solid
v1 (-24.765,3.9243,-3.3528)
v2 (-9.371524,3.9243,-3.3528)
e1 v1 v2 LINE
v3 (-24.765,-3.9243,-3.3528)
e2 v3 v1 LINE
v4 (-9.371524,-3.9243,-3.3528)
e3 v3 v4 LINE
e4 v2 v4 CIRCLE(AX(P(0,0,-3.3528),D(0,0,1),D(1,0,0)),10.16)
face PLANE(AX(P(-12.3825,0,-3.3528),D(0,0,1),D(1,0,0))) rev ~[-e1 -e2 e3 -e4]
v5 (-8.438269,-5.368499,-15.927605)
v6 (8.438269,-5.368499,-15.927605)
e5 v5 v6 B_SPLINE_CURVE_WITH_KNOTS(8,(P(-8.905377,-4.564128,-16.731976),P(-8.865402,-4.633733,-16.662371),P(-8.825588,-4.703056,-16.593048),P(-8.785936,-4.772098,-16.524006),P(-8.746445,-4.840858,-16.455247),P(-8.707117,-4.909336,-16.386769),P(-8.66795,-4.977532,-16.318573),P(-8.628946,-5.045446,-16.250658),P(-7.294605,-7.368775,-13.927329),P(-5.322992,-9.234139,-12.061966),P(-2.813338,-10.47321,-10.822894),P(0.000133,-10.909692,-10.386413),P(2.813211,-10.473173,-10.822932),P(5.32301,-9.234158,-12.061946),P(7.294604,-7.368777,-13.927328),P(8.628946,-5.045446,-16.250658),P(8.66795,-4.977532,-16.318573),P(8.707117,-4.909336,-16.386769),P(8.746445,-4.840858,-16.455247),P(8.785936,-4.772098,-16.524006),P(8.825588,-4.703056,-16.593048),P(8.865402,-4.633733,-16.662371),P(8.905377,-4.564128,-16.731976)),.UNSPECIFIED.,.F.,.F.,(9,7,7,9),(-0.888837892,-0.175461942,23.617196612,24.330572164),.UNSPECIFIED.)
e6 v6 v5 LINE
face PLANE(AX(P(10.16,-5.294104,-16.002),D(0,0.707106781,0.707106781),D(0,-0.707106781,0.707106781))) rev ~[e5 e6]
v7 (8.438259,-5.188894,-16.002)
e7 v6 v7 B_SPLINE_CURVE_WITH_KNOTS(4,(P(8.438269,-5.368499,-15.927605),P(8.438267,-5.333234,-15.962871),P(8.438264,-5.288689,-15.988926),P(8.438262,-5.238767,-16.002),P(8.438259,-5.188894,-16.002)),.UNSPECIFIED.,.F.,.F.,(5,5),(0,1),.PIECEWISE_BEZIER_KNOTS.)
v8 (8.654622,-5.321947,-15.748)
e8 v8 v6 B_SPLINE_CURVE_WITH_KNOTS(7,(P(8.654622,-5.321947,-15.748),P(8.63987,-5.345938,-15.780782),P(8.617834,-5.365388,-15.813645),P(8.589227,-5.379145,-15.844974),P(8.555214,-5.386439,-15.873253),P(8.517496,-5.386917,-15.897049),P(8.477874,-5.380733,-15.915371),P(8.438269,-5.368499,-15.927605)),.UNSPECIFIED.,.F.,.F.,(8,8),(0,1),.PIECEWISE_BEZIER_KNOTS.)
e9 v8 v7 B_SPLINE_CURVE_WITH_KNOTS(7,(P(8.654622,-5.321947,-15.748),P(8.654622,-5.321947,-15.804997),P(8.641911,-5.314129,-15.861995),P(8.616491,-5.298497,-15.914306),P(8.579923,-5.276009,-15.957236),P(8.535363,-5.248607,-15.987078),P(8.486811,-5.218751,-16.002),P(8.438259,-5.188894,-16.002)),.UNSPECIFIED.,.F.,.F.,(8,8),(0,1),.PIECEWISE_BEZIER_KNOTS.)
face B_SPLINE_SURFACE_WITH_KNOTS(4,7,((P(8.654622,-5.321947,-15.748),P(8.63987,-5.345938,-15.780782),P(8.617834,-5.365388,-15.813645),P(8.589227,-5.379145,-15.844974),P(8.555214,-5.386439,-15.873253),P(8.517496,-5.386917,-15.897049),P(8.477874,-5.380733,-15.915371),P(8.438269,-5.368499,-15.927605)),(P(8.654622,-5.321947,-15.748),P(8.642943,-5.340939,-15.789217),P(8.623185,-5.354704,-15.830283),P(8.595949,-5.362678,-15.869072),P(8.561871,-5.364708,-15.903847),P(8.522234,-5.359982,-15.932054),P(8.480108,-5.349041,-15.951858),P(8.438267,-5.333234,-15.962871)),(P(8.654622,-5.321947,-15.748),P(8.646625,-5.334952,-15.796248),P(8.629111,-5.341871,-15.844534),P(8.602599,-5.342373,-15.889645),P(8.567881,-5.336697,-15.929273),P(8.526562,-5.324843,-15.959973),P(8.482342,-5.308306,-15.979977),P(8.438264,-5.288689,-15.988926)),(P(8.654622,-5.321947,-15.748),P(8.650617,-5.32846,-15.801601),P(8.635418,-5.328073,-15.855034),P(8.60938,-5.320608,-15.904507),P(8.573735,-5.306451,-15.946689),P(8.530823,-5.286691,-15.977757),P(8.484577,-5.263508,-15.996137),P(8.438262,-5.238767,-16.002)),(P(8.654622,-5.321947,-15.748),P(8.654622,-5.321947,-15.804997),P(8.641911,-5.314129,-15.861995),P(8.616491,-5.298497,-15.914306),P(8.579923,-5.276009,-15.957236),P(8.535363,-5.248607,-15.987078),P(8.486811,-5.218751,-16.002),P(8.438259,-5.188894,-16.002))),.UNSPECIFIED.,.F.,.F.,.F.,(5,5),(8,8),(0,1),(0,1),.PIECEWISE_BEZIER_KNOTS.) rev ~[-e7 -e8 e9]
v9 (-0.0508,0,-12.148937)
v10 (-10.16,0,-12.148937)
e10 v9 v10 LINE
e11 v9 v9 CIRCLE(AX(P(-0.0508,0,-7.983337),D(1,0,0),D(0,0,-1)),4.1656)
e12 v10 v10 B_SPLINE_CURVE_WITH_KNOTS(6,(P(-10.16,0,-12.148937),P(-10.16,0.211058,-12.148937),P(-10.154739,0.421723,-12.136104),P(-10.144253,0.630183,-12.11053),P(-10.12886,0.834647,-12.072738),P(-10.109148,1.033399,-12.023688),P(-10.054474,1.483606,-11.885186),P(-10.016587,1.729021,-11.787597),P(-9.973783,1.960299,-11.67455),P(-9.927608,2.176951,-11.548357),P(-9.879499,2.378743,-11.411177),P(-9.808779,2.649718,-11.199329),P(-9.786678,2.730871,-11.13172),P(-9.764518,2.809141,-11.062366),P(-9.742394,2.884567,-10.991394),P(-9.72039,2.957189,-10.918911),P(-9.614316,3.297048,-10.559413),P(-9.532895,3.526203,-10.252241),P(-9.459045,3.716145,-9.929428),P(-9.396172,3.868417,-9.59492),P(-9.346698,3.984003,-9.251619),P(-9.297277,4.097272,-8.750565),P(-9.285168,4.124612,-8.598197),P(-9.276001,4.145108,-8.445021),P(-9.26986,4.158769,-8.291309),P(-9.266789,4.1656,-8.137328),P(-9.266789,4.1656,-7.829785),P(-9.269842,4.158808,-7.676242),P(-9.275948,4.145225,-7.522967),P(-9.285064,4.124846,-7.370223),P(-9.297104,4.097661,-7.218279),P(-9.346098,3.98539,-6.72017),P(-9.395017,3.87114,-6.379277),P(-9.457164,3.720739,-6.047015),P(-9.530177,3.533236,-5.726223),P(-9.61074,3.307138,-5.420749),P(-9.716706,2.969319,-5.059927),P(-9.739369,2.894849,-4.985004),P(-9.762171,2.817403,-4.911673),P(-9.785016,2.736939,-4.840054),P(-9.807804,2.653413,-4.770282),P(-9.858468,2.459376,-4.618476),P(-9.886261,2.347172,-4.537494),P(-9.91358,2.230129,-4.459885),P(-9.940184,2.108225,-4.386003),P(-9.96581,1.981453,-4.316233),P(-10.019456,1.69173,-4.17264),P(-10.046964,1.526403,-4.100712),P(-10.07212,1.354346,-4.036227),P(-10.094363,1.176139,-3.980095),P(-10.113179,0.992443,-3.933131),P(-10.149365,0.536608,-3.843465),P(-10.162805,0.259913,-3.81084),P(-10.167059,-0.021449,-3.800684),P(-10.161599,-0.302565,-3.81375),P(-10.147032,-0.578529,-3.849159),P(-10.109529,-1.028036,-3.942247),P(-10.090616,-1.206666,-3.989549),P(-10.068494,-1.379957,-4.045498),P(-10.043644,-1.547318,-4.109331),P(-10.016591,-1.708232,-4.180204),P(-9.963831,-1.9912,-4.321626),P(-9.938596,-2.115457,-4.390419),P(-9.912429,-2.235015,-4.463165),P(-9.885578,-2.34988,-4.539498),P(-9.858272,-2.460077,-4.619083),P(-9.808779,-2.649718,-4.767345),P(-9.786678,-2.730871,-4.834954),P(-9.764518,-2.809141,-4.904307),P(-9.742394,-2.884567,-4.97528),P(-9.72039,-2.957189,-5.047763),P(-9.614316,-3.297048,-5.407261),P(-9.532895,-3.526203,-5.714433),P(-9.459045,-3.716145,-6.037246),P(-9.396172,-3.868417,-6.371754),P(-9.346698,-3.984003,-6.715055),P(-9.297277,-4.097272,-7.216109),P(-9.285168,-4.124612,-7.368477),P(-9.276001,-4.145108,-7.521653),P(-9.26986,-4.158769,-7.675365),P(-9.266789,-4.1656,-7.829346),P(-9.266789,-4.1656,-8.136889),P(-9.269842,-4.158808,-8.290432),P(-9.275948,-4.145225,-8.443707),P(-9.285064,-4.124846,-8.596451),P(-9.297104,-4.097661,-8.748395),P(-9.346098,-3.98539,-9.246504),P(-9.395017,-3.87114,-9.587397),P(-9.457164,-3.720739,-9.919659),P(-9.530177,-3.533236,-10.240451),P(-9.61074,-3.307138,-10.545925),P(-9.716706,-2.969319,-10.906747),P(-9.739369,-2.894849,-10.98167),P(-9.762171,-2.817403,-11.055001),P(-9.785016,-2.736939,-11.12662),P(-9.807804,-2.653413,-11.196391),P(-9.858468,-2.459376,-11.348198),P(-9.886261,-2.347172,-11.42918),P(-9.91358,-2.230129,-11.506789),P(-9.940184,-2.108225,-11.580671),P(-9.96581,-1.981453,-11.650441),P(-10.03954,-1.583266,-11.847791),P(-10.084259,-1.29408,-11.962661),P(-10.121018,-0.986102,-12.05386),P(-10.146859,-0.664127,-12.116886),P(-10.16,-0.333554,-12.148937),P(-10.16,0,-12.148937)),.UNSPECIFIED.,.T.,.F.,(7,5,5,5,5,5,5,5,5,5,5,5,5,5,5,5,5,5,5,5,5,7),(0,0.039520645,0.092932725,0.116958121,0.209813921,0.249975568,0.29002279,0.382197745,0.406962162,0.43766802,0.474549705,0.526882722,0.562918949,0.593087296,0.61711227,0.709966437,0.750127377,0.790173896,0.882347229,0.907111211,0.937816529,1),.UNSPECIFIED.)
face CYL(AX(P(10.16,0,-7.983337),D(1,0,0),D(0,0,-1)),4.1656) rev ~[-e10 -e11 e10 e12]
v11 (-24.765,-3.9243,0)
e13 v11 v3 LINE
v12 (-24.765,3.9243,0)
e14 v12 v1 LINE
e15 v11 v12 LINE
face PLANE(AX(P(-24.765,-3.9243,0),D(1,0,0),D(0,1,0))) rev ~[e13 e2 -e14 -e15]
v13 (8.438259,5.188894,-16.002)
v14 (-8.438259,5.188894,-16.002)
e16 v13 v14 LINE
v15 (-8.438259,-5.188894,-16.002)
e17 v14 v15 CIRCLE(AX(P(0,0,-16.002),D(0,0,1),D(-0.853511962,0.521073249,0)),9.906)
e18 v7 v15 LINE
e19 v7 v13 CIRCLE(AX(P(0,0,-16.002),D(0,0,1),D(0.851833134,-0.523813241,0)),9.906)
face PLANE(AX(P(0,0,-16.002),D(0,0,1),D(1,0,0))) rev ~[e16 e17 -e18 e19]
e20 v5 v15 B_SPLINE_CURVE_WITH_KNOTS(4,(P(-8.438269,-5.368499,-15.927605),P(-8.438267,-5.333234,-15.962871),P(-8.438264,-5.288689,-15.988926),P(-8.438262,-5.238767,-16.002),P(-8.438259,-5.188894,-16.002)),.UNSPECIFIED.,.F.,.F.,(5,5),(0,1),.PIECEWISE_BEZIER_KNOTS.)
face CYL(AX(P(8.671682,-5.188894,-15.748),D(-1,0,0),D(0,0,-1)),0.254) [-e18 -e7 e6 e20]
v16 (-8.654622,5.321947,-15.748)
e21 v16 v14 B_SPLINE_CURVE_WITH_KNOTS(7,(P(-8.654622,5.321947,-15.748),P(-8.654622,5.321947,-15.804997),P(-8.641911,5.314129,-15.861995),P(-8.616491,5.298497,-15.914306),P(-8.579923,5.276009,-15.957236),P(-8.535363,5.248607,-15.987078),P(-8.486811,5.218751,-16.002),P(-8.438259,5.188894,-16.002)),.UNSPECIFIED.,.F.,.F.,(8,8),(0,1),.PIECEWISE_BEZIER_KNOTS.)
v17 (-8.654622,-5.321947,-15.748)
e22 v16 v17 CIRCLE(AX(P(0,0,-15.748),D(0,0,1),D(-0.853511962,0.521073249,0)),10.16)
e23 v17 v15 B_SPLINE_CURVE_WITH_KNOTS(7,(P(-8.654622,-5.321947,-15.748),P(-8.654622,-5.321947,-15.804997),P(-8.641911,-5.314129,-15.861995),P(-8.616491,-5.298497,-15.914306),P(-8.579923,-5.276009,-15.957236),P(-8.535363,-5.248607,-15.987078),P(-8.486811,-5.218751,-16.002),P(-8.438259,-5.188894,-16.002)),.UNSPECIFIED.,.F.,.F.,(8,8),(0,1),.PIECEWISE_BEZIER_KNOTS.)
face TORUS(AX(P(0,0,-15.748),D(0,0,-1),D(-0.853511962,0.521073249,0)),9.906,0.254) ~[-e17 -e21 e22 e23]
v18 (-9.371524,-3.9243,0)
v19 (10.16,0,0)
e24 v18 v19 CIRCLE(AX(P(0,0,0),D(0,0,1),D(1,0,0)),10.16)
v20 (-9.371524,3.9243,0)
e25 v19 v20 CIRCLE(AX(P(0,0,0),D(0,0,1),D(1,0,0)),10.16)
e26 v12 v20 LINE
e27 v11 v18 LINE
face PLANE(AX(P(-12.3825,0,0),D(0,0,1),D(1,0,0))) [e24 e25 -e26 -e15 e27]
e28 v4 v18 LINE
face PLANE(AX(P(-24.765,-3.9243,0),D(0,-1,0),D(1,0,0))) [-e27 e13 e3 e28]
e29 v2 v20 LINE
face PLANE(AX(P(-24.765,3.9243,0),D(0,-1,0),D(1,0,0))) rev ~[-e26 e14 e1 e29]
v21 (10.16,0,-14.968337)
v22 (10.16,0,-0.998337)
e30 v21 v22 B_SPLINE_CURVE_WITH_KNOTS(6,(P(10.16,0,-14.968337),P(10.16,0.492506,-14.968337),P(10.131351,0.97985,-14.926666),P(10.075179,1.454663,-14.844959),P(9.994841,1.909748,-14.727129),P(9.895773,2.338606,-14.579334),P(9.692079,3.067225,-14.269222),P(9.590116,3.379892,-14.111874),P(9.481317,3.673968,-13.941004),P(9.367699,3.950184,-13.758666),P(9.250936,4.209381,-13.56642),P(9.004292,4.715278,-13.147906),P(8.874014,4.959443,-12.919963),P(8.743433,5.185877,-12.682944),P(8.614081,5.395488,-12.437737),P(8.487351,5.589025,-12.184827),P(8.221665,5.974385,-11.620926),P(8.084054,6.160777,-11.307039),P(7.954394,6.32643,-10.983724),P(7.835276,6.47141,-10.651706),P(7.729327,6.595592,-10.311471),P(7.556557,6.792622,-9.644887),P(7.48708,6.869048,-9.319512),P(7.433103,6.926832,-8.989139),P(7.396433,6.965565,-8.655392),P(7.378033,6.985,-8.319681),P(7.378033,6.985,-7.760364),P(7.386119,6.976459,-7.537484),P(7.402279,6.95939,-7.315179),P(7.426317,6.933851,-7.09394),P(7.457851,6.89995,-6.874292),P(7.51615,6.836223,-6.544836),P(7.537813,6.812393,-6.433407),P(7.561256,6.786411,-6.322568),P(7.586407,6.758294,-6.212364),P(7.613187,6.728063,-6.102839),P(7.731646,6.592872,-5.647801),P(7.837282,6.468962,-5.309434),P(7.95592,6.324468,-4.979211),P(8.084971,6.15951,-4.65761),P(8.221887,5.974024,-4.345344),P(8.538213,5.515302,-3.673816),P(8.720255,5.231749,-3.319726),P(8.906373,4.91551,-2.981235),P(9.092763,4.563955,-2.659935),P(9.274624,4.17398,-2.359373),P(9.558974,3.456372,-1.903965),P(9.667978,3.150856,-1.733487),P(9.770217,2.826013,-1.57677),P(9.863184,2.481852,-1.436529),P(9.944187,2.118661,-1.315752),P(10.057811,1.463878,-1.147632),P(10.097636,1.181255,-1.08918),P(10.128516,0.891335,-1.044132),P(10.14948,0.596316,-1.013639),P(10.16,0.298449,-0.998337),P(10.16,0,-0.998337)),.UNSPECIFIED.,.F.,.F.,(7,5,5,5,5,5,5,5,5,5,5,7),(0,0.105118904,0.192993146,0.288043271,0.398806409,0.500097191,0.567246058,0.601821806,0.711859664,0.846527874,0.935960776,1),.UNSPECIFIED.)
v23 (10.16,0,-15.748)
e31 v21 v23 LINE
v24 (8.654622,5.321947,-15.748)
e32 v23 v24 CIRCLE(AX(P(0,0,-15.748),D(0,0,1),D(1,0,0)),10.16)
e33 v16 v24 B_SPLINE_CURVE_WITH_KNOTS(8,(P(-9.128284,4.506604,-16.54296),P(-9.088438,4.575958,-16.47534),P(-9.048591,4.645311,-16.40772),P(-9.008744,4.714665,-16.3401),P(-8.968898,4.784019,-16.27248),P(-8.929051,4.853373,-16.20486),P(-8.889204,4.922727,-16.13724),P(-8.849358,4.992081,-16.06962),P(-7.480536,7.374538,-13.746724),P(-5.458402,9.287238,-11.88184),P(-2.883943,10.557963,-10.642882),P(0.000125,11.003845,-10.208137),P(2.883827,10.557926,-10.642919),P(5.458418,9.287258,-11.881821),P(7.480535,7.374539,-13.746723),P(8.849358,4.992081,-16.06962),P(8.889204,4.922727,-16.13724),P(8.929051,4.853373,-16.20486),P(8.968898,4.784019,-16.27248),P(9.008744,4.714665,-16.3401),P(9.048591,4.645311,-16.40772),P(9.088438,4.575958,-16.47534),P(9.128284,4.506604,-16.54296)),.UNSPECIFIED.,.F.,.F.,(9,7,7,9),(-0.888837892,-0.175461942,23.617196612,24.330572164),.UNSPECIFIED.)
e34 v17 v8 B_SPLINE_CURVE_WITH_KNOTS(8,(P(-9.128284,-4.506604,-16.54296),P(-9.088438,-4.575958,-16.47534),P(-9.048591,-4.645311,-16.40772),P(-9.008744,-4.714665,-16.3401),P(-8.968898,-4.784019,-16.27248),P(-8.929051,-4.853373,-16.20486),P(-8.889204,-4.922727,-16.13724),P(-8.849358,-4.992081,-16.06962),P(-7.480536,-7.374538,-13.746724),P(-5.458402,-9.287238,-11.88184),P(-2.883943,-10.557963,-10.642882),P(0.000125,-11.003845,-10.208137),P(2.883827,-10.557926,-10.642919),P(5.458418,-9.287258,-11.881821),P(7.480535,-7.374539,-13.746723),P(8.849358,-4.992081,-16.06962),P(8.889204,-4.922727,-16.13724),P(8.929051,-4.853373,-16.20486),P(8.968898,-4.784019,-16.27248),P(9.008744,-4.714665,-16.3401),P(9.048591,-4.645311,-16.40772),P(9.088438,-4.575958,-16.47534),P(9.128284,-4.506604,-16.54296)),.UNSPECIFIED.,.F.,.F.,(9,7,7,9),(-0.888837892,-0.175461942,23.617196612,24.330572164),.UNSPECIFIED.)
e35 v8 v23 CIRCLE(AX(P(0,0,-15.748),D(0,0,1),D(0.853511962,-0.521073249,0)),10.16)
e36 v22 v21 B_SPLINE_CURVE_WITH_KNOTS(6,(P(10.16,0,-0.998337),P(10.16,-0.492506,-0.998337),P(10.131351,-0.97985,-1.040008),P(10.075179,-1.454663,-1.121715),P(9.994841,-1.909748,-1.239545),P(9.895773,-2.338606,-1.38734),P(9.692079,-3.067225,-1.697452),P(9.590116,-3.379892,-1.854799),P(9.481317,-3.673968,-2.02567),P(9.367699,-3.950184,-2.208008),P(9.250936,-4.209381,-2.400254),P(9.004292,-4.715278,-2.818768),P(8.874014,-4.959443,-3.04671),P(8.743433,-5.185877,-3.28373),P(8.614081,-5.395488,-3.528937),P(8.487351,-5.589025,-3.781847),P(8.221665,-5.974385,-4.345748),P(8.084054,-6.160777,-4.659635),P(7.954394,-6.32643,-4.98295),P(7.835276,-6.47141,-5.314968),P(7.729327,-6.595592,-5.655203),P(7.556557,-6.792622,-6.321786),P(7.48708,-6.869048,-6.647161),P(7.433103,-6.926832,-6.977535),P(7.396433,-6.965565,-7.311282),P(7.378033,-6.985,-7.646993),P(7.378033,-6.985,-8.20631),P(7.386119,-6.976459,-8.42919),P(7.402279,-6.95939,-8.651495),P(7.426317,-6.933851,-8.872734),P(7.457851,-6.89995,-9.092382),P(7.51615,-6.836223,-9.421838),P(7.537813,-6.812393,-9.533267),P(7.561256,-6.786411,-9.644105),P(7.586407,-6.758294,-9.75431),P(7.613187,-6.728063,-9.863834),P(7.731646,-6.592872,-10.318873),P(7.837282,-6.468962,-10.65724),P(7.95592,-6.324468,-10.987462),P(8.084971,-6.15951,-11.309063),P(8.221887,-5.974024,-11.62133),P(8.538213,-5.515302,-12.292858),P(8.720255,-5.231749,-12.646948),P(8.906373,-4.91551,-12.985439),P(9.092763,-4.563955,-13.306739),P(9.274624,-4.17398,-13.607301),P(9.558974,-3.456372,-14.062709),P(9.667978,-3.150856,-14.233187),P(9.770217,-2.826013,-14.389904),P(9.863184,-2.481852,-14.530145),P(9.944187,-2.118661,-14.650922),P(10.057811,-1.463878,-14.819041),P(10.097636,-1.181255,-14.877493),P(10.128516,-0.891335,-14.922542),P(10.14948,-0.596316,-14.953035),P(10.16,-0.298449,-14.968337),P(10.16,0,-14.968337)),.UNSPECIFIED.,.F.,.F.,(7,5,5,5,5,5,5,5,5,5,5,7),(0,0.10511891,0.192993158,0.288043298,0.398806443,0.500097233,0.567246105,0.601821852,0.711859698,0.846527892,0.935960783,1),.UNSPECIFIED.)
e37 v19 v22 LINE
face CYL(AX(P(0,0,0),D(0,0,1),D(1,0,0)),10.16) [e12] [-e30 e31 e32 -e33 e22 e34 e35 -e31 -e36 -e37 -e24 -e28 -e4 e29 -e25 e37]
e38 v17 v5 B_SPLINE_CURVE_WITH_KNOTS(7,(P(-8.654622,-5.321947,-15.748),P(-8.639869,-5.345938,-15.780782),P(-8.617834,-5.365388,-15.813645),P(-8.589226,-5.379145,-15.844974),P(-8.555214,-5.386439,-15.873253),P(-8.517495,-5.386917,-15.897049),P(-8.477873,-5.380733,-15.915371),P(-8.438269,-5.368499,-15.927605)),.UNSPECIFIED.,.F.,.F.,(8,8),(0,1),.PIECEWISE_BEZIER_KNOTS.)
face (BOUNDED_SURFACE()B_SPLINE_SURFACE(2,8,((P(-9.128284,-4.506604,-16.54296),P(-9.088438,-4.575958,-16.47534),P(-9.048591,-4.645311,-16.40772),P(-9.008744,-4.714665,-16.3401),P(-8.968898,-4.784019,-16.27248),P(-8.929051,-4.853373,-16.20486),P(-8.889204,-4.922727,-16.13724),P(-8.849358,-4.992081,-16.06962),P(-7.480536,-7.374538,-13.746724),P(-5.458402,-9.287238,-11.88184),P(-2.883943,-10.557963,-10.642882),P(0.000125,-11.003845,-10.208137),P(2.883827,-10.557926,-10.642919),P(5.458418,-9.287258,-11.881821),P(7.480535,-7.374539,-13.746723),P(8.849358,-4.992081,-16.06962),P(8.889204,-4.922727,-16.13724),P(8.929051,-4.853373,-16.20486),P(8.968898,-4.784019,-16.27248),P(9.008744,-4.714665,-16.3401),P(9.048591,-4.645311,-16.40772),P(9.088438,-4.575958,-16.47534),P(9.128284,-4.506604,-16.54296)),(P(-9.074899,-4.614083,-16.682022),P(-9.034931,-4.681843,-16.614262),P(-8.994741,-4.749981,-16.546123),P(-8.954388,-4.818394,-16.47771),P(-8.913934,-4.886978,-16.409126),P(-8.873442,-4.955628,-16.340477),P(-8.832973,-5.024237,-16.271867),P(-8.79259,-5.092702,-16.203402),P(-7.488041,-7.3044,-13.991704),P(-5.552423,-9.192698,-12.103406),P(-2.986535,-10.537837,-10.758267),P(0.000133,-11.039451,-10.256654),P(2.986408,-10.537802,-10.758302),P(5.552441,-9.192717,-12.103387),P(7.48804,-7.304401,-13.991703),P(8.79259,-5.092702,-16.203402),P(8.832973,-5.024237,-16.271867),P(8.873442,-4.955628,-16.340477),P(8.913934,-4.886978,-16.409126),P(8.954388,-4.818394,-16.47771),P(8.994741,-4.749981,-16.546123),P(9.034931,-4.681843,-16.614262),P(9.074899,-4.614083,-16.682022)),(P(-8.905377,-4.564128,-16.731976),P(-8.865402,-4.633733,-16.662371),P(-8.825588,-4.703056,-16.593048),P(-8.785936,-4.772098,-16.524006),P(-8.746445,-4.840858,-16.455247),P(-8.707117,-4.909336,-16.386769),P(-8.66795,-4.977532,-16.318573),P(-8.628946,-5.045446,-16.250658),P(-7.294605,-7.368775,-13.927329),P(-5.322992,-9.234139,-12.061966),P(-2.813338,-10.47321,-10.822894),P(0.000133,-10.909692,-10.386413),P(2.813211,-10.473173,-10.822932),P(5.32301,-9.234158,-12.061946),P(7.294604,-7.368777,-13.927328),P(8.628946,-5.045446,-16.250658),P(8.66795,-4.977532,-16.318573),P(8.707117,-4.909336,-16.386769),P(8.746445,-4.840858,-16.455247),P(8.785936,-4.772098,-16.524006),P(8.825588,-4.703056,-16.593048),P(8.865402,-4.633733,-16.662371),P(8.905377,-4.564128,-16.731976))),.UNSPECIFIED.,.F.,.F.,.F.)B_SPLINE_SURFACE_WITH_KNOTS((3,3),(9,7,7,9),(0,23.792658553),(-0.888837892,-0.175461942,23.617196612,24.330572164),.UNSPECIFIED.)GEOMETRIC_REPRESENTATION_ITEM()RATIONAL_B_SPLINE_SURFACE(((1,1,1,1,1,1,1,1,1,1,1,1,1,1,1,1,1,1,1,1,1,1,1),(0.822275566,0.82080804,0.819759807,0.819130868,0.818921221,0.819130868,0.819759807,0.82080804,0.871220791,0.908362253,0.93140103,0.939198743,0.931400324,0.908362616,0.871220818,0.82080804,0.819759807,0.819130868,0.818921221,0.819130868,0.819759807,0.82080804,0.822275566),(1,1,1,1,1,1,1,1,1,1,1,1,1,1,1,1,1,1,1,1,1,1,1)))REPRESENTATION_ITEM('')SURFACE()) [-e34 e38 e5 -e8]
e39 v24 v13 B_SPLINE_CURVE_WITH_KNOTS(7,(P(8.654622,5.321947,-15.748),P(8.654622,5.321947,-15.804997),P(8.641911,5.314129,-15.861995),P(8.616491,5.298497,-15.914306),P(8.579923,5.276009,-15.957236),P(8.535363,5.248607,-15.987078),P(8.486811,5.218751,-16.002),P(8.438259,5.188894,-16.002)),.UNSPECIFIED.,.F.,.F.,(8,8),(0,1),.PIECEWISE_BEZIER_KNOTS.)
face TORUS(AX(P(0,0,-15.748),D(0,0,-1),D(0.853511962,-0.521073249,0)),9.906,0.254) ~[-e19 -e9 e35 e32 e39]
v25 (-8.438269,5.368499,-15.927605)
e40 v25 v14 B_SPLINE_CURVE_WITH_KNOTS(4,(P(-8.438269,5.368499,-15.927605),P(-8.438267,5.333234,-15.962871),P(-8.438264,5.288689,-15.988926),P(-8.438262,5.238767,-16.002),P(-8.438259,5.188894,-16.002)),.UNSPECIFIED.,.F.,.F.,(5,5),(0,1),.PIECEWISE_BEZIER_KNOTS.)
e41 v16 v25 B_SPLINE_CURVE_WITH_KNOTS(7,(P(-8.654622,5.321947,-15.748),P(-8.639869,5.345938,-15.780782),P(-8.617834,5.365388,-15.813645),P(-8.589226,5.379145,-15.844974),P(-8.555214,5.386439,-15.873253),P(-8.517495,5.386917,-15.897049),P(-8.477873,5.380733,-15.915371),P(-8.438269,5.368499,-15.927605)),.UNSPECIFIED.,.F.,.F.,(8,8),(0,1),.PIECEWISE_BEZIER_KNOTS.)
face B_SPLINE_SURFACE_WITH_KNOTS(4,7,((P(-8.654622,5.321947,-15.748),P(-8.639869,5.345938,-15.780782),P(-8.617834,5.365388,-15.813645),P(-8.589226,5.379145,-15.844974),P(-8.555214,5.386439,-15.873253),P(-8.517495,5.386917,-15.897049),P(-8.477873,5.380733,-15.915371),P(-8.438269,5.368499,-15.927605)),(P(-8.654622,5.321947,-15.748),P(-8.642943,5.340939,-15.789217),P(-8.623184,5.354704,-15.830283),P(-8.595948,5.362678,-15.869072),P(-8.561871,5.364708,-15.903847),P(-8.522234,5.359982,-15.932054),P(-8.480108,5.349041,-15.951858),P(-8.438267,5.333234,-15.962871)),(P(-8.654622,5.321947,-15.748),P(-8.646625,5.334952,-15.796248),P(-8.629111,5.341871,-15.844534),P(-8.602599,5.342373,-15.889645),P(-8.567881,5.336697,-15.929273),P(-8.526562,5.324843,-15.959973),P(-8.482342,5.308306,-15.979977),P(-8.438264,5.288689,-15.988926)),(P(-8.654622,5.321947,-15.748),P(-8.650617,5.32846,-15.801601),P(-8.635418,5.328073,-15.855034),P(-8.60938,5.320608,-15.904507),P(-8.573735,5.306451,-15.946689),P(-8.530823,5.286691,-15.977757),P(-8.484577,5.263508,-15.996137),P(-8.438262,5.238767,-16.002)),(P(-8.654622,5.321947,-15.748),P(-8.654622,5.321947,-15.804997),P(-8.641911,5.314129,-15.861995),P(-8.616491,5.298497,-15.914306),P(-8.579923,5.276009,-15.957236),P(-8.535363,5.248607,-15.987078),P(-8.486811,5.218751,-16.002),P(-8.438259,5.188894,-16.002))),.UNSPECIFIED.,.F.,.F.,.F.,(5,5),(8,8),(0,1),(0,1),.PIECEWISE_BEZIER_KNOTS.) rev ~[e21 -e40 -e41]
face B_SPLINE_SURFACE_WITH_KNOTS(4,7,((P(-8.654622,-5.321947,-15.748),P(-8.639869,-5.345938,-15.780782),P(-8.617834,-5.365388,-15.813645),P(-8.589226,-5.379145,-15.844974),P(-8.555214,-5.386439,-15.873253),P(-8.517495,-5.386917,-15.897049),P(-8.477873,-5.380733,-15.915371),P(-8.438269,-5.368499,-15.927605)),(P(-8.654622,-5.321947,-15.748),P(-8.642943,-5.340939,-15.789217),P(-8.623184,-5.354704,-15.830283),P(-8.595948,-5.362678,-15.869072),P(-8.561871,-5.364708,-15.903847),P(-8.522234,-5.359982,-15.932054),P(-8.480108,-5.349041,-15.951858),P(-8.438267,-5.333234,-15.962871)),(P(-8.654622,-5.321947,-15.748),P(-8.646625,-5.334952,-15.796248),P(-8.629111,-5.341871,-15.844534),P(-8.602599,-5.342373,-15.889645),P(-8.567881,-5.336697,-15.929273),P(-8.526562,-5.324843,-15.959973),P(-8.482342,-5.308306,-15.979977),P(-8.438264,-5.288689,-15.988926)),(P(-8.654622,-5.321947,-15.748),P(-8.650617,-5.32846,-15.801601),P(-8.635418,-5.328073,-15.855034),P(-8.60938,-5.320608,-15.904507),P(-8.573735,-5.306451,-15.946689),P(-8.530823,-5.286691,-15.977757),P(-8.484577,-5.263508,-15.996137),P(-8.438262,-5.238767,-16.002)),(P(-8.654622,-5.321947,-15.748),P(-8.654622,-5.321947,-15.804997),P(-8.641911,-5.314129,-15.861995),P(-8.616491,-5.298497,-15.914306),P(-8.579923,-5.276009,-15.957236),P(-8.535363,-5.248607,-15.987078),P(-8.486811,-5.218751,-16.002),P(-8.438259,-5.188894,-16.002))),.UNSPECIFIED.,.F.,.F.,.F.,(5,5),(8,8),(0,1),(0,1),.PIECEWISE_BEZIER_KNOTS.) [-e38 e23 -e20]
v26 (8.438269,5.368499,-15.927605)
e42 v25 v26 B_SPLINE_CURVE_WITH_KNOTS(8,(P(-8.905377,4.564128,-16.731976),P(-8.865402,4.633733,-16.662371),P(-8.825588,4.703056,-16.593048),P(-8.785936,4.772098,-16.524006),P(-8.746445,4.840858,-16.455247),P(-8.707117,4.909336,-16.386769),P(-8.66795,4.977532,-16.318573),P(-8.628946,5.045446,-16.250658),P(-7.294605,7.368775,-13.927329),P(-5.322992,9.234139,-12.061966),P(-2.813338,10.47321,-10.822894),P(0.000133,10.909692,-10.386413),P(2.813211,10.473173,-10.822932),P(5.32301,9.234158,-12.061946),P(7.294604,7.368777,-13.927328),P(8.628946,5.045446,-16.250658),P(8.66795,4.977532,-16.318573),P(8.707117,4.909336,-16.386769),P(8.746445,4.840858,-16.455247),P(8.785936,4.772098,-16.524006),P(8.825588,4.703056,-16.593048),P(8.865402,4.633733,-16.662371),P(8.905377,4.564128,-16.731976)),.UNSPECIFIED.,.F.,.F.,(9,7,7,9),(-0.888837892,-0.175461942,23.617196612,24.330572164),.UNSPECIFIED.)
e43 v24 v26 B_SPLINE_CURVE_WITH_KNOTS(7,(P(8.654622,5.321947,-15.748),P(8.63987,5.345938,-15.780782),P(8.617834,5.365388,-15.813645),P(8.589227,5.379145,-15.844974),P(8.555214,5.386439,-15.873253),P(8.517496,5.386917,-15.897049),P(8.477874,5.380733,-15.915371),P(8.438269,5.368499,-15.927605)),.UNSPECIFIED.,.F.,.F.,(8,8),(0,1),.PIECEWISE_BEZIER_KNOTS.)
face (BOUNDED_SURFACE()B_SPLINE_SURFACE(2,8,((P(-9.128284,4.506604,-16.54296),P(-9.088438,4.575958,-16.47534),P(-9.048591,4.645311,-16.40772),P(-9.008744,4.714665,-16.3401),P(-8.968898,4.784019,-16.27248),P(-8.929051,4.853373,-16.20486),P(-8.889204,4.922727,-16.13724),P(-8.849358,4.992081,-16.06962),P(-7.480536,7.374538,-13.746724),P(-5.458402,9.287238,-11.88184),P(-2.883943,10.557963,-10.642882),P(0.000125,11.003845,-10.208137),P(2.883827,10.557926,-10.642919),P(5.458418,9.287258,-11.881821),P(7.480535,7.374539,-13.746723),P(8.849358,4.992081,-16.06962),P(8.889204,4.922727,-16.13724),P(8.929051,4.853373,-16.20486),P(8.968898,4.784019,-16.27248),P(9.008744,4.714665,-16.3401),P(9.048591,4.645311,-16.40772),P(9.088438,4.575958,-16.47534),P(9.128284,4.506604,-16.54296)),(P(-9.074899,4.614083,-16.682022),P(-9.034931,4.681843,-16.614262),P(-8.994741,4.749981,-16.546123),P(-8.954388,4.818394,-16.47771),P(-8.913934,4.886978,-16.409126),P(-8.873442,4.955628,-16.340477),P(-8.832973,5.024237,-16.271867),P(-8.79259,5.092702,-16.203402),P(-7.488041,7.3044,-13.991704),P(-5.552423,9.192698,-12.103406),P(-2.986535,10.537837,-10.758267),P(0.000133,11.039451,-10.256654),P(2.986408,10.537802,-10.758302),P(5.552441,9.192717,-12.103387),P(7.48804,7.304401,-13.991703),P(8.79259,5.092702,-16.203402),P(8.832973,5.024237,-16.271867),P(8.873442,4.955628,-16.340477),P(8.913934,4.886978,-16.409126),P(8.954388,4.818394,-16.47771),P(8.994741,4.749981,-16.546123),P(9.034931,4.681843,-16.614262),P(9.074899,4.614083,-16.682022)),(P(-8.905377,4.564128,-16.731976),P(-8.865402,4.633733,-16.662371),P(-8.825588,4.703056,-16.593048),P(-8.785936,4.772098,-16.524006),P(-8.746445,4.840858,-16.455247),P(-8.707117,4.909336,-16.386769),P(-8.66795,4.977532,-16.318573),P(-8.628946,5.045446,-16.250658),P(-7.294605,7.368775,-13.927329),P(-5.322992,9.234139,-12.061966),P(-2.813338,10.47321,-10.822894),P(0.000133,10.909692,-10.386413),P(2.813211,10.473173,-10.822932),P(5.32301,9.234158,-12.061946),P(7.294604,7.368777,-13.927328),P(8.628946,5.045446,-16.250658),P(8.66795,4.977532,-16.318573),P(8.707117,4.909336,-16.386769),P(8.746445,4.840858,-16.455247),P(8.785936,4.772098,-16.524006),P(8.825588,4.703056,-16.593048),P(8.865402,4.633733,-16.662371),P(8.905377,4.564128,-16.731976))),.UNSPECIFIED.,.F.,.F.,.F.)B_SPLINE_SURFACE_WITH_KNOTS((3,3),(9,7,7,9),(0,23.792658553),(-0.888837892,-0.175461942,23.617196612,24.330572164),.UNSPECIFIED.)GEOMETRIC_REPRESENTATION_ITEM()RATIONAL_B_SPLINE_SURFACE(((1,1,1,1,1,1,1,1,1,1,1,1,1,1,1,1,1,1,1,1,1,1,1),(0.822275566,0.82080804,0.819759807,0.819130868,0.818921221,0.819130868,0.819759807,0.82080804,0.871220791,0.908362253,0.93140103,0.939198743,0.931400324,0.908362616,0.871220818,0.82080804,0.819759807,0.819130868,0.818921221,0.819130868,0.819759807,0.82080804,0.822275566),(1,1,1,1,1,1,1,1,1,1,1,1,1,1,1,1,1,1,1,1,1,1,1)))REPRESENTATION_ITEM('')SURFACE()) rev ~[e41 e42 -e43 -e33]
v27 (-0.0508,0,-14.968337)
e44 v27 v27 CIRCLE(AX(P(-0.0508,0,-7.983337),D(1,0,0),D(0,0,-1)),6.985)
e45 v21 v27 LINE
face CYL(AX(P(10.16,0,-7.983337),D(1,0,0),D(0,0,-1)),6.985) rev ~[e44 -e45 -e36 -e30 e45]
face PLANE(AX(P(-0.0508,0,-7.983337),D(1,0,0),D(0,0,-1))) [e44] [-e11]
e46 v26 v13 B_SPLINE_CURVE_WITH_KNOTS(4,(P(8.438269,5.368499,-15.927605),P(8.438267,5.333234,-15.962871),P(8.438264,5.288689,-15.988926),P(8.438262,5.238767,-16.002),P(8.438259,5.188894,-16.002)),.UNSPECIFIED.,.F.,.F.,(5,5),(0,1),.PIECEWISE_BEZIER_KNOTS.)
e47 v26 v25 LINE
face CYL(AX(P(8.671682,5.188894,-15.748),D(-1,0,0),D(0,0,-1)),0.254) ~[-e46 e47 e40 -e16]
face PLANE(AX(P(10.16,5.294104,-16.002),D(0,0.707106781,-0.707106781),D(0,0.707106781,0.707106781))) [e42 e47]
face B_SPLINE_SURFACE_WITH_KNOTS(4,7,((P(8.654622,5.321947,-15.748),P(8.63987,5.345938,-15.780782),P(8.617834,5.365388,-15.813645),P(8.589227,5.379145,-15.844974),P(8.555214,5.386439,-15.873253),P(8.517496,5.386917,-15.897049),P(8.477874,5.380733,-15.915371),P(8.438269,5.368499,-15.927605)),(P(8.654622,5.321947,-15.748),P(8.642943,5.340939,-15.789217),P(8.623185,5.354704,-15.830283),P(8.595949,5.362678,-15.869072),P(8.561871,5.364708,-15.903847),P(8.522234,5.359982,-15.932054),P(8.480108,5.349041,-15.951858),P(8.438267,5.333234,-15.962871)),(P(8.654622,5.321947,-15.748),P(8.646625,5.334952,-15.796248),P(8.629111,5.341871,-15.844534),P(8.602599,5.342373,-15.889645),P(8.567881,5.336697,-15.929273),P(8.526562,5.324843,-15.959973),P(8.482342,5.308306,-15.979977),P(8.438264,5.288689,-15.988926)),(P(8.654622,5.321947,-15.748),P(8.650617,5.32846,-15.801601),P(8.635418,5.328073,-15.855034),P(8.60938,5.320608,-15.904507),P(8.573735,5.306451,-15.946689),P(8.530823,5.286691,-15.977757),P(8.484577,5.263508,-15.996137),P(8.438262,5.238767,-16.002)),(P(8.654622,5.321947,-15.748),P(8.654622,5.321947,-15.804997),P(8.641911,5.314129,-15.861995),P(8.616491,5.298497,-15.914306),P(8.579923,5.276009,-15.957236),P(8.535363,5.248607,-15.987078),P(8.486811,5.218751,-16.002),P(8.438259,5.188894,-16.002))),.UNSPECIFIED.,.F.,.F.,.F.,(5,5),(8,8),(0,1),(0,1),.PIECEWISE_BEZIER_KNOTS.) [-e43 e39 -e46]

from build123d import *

# Parameters (mm, degrees)
SKETCH1_R                = 10.16
PART_DIA_EXTRUDE_DEPTH   = 16.002
SKETCH1_3_W              = 24.765
SKETCH1_3_H              = 7.8486
ARM_EXTRUDE_DEPTH        = 3.3528
SKETCH2_R                = 6.985
CBORE_EXTRUDE_DEPTH      = 10.2108
SKETCH2_3_R              = 4.1656
THRU_HOLE_EXTRUDE2_DEPTH = 40.737202144
ANGLE_EXTRUDE3_DEPTH     = 40.737202144
FILLET1_R                = 0.254


with BuildPart() as part:
    # Sketch1 → PART DIA EXTRUDE (new body)
    with BuildSketch(Plane.XY):
        Circle(SKETCH1_R)
    extrude(amount=-PART_DIA_EXTRUDE_DEPTH)

    # Sketch1<3> → ARM EXTRUDE (add)
    with BuildSketch(Plane.XY):
        with Locations((-12.3825, 0)):
            Rectangle(SKETCH1_3_W, SKETCH1_3_H)
    extrude(amount=-ARM_EXTRUDE_DEPTH)

    # Sketch2 → CBORE EXTRUDE (cut)
    with BuildSketch(Plane(origin=(10.16, 0, 0), x_dir=(0, 0, -1), z_dir=(1, 0, 0))):
        with Locations((7.983336866, 0)):
            Circle(SKETCH2_R)
    extrude(amount=-CBORE_EXTRUDE_DEPTH, mode=Mode.SUBTRACT)

    # Sketch2<3> → THRU HOLE-Extrude2 (cut, through all)
    with BuildSketch(Plane(origin=(10.16, 0, 0), x_dir=(0, 0, -1), z_dir=(1, 0, 0))):
        with Locations((7.983336866, 0)):
            Circle(SKETCH2_3_R)
    extrude(amount=-THRU_HOLE_EXTRUDE2_DEPTH, mode=Mode.SUBTRACT)

    # Sketch2<4> → ANGLE-Extrude3 (cut, through all)
    with BuildSketch(Plane(origin=(10.16, 0, 0), x_dir=(0, 0, -1), z_dir=(1, 0, 0))):
        Polygon((11.136104206, 10.16), (16.002, 10.16), (16.002, 5.294104206), align=None)
        Polygon((16.002, -10.16), (16.002, -5.294104206), (11.136104206, -10.16), align=None)
    extrude(amount=-ANGLE_EXTRUDE3_DEPTH, mode=Mode.SUBTRACT)

    # Fillet1
    fillet1_edges = [part.edges().sort_by_distance(p)[0] for p in [
        (-10.16, 0, -16.002),
        (0, 5.294104206, -16.002),
        (-5.323615412, 8.653595723, -12.642508482),
        (9.780845679, -2.749665034, -16.002),
        (0, -5.294104206, -16.002),
        (-5.323615412, -8.653595723, -12.642508482),
    ]]
    fillet(fillet1_edges, radius=FILLET1_R)


solid = part.part
